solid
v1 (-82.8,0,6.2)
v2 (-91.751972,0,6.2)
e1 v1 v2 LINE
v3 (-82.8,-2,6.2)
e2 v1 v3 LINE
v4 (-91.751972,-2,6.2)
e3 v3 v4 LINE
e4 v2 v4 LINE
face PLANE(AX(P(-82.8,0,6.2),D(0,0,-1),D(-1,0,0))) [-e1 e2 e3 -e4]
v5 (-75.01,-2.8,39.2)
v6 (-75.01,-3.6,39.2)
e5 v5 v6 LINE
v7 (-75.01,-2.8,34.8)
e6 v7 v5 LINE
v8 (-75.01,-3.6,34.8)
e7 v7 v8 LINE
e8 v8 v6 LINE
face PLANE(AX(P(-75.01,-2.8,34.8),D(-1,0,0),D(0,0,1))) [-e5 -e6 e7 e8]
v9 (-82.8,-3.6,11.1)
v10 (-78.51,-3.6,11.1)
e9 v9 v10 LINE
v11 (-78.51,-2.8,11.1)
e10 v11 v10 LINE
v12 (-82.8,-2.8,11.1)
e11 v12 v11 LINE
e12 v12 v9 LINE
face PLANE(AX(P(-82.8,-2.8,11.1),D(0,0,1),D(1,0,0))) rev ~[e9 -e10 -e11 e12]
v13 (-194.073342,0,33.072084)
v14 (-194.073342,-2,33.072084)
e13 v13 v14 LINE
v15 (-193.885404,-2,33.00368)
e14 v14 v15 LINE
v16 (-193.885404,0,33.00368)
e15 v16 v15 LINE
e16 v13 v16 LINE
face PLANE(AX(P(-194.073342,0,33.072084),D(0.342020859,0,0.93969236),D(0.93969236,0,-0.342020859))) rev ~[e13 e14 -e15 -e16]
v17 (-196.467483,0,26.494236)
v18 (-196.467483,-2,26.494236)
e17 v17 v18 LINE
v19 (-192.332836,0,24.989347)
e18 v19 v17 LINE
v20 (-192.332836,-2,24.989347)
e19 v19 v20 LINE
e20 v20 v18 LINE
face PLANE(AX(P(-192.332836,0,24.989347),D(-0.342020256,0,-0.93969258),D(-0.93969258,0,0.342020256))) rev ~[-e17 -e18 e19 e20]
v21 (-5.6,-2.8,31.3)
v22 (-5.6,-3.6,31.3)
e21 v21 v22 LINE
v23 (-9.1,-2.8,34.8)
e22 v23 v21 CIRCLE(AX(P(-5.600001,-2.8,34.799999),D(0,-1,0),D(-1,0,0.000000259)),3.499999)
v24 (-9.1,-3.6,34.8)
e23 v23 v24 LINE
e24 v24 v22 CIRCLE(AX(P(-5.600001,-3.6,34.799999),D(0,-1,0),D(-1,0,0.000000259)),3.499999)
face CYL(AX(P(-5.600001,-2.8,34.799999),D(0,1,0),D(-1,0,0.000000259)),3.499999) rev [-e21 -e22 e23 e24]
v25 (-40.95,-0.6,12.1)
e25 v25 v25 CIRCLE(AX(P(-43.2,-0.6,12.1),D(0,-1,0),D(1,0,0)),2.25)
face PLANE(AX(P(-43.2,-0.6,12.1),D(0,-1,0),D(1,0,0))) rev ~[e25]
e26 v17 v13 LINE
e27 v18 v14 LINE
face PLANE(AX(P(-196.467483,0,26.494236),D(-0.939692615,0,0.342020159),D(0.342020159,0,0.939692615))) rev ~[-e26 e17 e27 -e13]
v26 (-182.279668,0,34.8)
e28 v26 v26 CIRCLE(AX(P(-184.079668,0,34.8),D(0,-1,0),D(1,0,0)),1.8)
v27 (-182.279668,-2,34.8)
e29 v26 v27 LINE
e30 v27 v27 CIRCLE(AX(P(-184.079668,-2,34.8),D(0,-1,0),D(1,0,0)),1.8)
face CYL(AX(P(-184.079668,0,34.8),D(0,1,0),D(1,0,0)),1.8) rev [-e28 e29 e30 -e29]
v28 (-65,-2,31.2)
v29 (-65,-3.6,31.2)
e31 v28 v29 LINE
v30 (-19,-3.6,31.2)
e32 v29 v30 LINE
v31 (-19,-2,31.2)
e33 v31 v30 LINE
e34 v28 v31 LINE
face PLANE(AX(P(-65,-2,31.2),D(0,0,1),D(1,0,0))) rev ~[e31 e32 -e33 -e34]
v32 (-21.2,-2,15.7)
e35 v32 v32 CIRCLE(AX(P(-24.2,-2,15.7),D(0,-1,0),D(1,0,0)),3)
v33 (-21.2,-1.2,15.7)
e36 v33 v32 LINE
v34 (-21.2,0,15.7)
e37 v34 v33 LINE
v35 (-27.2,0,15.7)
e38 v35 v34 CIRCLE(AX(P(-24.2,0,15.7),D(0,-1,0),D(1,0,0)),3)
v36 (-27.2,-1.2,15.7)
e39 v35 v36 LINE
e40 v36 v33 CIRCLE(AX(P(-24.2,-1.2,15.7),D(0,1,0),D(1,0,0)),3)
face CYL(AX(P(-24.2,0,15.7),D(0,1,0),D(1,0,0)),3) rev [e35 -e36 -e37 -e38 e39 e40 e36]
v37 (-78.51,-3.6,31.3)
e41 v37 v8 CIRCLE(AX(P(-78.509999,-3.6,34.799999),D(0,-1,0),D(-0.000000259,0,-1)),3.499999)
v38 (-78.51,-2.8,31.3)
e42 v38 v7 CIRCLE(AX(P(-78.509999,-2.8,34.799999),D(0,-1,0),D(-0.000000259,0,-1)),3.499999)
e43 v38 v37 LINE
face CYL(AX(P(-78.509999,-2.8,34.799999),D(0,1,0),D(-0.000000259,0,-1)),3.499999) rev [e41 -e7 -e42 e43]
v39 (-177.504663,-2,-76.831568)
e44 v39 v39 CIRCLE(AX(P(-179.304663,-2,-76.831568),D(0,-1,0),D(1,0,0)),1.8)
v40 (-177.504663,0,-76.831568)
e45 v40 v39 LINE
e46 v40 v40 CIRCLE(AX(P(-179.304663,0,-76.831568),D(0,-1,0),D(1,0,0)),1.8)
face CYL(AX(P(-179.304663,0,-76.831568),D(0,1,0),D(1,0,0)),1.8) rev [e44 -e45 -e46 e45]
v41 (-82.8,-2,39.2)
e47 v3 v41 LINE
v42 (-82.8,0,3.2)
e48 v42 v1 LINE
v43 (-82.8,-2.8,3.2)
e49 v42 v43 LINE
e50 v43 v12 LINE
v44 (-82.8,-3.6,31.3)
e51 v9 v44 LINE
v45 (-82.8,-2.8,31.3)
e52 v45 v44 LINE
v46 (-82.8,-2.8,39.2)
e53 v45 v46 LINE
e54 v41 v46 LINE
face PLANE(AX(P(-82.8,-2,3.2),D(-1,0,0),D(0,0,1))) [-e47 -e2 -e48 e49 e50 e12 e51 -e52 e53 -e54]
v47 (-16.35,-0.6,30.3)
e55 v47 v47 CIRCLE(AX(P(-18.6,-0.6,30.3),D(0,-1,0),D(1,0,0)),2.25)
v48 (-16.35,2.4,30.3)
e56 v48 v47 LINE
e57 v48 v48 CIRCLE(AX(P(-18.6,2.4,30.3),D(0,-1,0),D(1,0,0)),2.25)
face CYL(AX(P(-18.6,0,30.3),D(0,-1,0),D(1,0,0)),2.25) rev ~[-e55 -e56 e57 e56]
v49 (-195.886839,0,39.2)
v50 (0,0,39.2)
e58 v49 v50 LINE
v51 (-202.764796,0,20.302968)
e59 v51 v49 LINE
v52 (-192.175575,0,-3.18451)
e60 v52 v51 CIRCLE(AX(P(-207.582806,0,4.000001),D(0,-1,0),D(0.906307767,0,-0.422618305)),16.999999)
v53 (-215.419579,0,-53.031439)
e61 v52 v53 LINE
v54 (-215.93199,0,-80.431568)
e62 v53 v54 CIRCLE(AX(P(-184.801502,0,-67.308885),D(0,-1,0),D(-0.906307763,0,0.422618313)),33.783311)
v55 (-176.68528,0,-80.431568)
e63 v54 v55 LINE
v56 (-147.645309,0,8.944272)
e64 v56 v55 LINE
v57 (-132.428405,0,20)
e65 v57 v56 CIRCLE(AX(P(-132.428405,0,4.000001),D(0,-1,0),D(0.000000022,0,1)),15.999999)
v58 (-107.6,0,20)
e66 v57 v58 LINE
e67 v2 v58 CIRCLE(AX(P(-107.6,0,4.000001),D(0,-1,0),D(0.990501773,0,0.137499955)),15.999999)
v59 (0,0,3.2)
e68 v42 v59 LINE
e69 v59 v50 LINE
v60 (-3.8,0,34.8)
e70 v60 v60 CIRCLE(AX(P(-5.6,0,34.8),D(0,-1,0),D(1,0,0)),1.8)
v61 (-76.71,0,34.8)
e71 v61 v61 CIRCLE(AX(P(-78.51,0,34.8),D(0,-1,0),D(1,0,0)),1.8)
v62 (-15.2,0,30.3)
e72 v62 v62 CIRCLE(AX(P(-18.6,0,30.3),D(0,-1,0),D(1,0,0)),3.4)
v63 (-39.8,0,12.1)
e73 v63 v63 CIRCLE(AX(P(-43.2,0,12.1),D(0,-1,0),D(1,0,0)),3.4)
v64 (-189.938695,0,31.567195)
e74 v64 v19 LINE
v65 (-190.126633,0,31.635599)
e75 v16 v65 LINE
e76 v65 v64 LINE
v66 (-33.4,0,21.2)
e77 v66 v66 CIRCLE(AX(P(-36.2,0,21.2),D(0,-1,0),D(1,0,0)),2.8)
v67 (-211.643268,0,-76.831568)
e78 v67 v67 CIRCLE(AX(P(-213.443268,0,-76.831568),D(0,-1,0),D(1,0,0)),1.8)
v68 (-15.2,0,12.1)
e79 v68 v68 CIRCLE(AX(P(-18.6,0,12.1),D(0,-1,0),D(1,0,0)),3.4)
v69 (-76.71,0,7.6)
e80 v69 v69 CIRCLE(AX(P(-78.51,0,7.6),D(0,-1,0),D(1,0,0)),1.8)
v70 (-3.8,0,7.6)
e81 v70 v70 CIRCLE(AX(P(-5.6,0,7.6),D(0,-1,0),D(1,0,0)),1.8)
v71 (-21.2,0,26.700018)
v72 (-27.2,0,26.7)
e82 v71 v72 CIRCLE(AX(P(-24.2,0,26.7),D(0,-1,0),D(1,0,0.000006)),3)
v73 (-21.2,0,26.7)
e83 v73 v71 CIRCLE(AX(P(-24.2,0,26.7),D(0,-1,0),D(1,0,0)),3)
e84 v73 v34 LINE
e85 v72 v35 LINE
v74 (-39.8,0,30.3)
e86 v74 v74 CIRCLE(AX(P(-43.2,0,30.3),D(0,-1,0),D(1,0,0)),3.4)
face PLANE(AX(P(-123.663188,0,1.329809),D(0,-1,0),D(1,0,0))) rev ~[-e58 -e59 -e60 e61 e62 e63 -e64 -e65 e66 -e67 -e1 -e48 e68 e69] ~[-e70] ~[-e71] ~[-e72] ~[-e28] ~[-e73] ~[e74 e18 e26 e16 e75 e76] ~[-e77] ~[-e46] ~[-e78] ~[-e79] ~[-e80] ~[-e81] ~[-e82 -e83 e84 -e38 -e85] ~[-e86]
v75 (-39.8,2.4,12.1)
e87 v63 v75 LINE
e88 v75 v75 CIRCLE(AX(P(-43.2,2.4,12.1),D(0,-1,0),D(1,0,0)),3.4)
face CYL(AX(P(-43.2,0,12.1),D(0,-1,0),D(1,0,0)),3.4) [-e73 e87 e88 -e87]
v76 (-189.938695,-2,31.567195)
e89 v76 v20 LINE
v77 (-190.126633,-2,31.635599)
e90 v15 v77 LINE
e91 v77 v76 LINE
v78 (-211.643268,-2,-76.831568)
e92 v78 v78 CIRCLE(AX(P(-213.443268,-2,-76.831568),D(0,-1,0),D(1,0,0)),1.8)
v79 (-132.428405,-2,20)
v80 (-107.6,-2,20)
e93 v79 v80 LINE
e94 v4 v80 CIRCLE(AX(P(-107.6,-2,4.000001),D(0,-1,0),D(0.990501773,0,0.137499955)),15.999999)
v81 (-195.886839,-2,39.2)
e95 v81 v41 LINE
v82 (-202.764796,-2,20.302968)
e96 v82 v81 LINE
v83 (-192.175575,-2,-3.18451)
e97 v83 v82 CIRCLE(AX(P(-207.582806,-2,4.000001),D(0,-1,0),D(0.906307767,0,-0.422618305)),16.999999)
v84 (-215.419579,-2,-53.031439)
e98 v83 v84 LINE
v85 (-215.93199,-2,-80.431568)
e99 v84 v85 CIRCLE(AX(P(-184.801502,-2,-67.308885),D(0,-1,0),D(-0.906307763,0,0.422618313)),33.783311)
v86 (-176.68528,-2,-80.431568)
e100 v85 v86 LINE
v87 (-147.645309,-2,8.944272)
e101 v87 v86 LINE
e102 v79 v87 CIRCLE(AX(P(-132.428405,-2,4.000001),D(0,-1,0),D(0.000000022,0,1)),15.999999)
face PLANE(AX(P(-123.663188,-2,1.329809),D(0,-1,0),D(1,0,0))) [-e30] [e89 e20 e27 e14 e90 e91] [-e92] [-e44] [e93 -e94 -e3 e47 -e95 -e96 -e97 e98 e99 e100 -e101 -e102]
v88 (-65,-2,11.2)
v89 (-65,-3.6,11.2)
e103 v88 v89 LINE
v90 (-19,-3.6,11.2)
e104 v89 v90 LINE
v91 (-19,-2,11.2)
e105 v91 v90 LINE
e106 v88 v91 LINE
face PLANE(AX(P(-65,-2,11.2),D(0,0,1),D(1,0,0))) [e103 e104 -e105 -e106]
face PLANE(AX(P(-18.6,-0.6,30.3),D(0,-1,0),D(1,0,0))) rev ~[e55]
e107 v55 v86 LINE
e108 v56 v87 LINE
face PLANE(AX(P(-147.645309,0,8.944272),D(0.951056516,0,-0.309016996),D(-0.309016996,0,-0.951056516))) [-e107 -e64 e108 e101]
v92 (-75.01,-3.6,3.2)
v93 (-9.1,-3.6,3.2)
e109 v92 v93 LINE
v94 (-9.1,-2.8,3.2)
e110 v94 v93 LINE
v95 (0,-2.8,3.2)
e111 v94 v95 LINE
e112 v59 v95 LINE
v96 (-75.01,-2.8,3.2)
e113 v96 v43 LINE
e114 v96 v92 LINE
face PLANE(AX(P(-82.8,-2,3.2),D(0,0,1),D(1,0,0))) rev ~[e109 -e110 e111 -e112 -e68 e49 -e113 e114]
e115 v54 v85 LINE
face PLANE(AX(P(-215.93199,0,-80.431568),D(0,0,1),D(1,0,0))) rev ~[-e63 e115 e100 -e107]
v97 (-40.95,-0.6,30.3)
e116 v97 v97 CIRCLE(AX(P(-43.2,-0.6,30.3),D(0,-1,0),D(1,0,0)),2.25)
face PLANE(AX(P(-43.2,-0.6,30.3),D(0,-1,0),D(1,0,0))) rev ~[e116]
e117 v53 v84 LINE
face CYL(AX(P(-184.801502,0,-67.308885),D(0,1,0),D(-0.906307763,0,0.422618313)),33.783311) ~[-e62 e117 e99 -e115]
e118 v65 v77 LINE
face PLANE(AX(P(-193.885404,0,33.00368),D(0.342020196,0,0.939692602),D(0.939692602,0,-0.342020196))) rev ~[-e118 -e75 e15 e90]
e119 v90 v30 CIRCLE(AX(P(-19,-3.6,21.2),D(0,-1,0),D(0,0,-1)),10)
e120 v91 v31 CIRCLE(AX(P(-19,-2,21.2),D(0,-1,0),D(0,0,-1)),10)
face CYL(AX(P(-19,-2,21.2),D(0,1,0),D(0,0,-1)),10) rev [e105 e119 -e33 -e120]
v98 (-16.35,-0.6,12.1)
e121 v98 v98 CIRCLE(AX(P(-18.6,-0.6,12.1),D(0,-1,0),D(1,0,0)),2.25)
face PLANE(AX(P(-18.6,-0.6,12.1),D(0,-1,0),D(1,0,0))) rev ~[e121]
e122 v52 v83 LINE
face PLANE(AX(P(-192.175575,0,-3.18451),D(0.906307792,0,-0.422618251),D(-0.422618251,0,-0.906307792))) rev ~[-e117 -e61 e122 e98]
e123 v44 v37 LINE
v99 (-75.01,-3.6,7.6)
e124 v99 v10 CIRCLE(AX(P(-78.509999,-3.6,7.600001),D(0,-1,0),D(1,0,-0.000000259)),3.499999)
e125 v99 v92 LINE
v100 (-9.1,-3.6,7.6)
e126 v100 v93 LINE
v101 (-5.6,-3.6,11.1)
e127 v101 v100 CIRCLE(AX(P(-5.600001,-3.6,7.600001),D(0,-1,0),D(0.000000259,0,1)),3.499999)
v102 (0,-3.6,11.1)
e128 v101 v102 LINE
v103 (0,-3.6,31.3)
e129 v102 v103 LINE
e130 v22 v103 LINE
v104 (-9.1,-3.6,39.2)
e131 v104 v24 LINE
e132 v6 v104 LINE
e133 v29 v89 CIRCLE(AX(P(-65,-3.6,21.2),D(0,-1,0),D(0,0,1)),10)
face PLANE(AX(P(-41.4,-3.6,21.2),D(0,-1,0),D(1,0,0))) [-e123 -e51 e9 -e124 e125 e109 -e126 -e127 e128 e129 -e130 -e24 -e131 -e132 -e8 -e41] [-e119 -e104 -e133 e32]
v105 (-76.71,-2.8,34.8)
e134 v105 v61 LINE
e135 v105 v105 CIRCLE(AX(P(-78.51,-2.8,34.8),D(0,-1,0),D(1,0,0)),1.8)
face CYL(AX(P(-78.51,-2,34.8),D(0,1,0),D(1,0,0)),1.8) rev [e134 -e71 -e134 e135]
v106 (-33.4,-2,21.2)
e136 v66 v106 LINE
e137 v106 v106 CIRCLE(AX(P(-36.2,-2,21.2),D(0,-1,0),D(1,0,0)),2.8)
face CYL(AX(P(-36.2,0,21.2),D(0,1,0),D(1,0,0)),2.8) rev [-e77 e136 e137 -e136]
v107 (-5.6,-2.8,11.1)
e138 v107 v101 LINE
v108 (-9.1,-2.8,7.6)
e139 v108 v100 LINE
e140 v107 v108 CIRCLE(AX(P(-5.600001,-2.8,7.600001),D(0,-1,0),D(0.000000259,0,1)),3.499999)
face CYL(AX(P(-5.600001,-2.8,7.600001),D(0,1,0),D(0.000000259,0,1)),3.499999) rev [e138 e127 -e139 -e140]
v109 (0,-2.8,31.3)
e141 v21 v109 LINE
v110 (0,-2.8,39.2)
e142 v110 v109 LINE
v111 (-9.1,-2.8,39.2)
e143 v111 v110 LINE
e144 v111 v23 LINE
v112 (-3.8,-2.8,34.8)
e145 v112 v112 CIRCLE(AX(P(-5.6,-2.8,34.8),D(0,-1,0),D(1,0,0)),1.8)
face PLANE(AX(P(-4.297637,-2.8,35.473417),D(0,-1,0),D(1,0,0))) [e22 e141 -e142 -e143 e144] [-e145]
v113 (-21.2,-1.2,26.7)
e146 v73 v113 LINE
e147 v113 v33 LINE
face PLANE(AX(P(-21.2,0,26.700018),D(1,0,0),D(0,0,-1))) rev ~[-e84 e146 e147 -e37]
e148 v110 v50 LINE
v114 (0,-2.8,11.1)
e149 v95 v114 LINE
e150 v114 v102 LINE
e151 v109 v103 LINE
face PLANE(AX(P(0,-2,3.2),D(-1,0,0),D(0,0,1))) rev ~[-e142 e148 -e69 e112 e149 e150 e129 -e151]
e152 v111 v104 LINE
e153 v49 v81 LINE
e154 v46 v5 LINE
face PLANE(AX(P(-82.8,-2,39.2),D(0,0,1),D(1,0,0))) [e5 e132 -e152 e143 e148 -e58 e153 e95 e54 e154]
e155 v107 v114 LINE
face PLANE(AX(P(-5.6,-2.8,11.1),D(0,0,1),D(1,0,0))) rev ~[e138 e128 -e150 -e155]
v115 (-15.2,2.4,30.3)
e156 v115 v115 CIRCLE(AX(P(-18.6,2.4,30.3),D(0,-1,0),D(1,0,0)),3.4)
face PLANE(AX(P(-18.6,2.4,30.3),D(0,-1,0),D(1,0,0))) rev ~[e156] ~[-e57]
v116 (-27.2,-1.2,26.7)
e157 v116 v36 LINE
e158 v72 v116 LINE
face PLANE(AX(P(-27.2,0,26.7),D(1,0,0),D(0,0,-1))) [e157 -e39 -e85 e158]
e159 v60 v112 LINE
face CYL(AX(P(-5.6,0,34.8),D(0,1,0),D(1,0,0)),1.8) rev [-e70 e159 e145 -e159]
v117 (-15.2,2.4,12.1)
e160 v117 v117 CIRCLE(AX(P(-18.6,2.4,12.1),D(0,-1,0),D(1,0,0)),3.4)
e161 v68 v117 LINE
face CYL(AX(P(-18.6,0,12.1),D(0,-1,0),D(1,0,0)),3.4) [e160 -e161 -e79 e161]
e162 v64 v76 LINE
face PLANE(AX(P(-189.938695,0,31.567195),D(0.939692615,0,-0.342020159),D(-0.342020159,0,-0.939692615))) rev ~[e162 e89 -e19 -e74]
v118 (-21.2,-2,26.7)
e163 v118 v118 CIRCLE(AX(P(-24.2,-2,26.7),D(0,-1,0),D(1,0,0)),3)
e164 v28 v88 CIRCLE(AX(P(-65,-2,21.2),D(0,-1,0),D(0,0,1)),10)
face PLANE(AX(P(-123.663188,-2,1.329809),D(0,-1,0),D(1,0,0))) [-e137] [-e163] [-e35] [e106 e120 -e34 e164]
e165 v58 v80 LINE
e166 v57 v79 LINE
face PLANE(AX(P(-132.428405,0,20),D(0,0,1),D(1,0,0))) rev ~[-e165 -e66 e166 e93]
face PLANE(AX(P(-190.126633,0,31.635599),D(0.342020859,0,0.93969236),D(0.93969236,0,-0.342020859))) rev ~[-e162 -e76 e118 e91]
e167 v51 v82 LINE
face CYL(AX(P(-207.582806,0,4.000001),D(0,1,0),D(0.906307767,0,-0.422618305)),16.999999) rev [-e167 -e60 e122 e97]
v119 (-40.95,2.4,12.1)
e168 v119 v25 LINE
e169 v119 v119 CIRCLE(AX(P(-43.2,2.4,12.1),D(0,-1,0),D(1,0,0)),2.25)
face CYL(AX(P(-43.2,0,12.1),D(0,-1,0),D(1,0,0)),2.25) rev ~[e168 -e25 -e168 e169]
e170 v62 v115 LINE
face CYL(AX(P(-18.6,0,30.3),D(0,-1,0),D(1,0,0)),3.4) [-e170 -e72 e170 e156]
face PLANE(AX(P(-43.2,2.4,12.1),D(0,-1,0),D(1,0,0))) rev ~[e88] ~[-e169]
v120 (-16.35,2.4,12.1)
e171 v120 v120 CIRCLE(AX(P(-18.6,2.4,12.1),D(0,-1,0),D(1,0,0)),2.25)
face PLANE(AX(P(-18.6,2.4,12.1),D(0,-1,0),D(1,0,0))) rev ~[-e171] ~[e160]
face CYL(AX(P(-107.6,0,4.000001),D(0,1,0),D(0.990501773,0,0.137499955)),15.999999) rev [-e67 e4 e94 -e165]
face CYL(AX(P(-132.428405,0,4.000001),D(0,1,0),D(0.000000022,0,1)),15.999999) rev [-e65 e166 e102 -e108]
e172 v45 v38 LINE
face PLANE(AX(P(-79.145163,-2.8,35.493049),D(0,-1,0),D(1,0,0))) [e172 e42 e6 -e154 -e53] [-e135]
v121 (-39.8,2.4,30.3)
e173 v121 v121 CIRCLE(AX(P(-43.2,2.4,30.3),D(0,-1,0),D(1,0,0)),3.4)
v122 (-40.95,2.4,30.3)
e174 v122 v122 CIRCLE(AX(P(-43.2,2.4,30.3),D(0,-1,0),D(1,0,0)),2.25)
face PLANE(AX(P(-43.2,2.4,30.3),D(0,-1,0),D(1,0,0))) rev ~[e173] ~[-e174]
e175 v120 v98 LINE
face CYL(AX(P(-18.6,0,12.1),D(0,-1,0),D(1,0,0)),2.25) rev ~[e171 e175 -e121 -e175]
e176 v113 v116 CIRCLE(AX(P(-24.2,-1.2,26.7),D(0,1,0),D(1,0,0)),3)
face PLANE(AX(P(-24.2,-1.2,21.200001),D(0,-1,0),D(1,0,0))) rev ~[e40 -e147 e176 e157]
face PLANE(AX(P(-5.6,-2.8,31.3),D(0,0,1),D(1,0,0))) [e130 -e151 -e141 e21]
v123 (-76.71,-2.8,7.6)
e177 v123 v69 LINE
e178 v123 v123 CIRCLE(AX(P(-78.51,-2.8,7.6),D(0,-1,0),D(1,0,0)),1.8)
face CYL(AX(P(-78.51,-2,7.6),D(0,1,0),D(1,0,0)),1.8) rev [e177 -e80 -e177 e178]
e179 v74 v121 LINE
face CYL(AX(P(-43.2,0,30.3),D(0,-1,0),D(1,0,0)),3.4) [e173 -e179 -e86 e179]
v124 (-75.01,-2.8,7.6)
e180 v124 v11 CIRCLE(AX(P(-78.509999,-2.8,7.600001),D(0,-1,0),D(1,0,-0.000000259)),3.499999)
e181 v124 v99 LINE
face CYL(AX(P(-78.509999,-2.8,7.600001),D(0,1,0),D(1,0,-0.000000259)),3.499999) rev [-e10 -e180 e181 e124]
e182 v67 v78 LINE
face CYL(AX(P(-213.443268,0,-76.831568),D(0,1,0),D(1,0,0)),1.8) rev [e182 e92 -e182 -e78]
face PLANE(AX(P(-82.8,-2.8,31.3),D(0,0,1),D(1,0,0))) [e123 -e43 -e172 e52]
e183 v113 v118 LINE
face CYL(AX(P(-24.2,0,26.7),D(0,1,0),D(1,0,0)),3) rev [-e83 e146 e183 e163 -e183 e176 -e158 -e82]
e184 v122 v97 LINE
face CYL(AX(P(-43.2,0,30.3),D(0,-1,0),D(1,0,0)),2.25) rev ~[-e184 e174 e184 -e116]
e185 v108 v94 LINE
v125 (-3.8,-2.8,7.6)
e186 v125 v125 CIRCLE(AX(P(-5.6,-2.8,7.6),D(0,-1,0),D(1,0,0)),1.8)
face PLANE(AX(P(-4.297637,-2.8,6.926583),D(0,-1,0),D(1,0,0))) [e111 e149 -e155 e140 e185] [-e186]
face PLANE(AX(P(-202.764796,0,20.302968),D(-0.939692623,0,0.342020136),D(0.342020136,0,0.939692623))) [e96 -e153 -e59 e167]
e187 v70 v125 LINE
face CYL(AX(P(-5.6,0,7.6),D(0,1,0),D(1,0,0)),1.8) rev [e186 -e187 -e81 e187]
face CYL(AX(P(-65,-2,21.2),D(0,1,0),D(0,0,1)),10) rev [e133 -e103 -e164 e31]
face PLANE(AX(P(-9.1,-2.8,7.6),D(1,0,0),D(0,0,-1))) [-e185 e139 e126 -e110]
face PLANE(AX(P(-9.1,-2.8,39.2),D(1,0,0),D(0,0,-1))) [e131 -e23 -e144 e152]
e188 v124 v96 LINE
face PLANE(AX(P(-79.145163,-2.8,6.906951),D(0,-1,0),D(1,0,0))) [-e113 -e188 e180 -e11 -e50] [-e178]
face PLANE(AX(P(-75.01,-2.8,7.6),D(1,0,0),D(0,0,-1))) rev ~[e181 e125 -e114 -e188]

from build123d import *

# Parameters (mm, degrees)
SKETCH085_R           = 1.8
EXTRUDE085_DEPTH      = 0.8
SKETCH083_W           = 82.8
SKETCH083_H           = 36
SKETCH083_R           = 1.8
EXTRUDE083_DEPTH      = 1.6
SKETCH080_R           = 2.25
EXTRUDE081_DEPTH      = 0.6
EXTRUDE081_DEPTH_BACK = 2.4
SKETCH081_R           = 3.4
EXTRUDE080_DEPTH      = 2.4
EXTRUDE079_DEPTH      = 1.2
SKETCH075_R           = 1.8
SKETCH075_R_2         = 2.8
SKETCH075_R_3         = 3
EXTRUDE078_DEPTH      = 2


with BuildPart() as extrude085:
    # Sketch085 → Extrude085 (new body)
    with BuildSketch(Plane.XZ):
        with BuildLine():
            ThreePointArc((-78.51, 31.3), (-76.035126, 32.325126), (-75.01, 34.8))
            Line((-75.01, 34.8), (-75.01, 39.2))
            Line((-82.8, 39.2), (-75.01, 39.2))
            Line((-82.8, 31.3), (-82.8, 39.2))
            Line((-82.8, 31.3), (-78.51, 31.3))
        make_face()
        with Locations((-78.51, 34.8)):
            Circle(SKETCH085_R, mode=Mode.SUBTRACT)
        with BuildLine():
            ThreePointArc((-9.1, 34.8), (-8.074874, 32.325126), (-5.6, 31.3))
            Line((-5.6, 31.3), (0, 31.3))
            Line((0, 39.2), (0, 31.3))
            Line((-9.1, 39.2), (0, 39.2))
            Line((-9.1, 39.2), (-9.1, 34.8))
        make_face()
        with Locations((-5.6, 34.8)):
            Circle(SKETCH085_R, mode=Mode.SUBTRACT)
        with BuildLine():
            ThreePointArc((-75.01, 7.6), (-76.035126, 10.074874), (-78.51, 11.1))
            Line((-82.8, 11.1), (-78.51, 11.1))
            Line((-82.8, 3.2), (-82.8, 11.1))
            Line((-75.01, 3.2), (-82.8, 3.2))
            Line((-75.01, 7.6), (-75.01, 3.2))
        make_face()
        with Locations((-78.51, 7.6)):
            Circle(SKETCH085_R, mode=Mode.SUBTRACT)
        with BuildLine():
            ThreePointArc((-5.6, 11.1), (-8.074874, 10.074874), (-9.1, 7.6))
            Line((-9.1, 7.6), (-9.1, 3.2))
            Line((-9.1, 3.2), (0, 3.2))
            Line((0, 3.2), (0, 11.1))
            Line((-5.6, 11.1), (0, 11.1))
        make_face()
        with Locations((-5.6, 7.6)):
            Circle(SKETCH085_R, mode=Mode.SUBTRACT)
    extrude(amount=EXTRUDE085_DEPTH)


with BuildPart() as extrude085_1:
    # Extrude085 placement: moved
    add(extrude085.part.moved(Location((0, -2.8, 0))))


with BuildPart() as cut048:
    # Sketch083 → Extrude083 (new body)
    with BuildSketch(Plane.XZ):
        with Locations((-41.4, 21.2)):
            Rectangle(SKETCH083_W, SKETCH083_H)
        with Locations((-78.51, 34.8)):
            Circle(SKETCH083_R, mode=Mode.SUBTRACT)
        with Locations((-5.6, 34.8)):
            Circle(SKETCH083_R, mode=Mode.SUBTRACT)
        with Locations((-5.6, 7.6)):
            Circle(SKETCH083_R, mode=Mode.SUBTRACT)
        with Locations((-78.51, 7.6)):
            Circle(SKETCH083_R, mode=Mode.SUBTRACT)
        with BuildLine():
            ThreePointArc((-65, 31.2), (-75, 21.2), (-65, 11.2))
            Line((-65, 11.2), (-19, 11.2))
            ThreePointArc((-19, 11.2), (-9, 21.2), (-19, 31.2))
            Line((-65, 31.2), (-19, 31.2))
        make_face(mode=Mode.SUBTRACT)
    extrude(amount=EXTRUDE083_DEPTH)


with BuildPart() as cut048_1:
    # Extrude083 placement: moved
    add(cut048.part.moved(Location((0, -2, 0))))

    # Cut048: cut Extrude085
    add(extrude085_1.part, mode=Mode.SUBTRACT)


with BuildPart() as extrude081:
    # Sketch080 → Extrude081 (new body, two sides)
    with BuildSketch(Plane.XZ) as extrude081_sk:
        with Locations((-18.6, 12.1)):
            Circle(SKETCH080_R)
        with Locations((-18.6, 30.3)):
            Circle(SKETCH080_R)
        with Locations((-43.2, 30.3)):
            Circle(SKETCH080_R)
        with Locations((-43.2, 12.1)):
            Circle(SKETCH080_R)
    extrude(amount=EXTRUDE081_DEPTH)
    extrude(extrude081_sk.sketch, amount=-EXTRUDE081_DEPTH_BACK)


with BuildPart() as extrude080:
    # Sketch081 → Extrude080 (new body)
    with BuildSketch(Plane.XZ):
        with Locations((-43.2, 30.3)):
            Circle(SKETCH081_R)
        with Locations((-18.6, 30.3)):
            Circle(SKETCH081_R)
        with Locations((-43.2, 12.1)):
            Circle(SKETCH081_R)
        with Locations((-18.6, 12.1)):
            Circle(SKETCH081_R)
    extrude(amount=-EXTRUDE080_DEPTH)


with BuildPart() as extrude_lato_dx_pistola_scavi_pulsanti:
    # Sketch077 → Extrude079 (new body)
    with BuildSketch(Plane.XZ):
        with BuildLine():
            Line((-27.2, 26.7), (-27.2, 15.7))
            ThreePointArc((-27.2, 15.7), (-24.2, 12.7), (-21.2, 15.7))
            Line((-21.2, 26.700018), (-21.2, 15.7))
            ThreePointArc((-21.2, 26.700018), (-24.200009, 29.7), (-27.2, 26.7))
        make_face()
    extrude(amount=EXTRUDE079_DEPTH)


with BuildPart() as fusion006:
    # Sketch075 → Extrude078 (new body)
    with BuildSketch(Plane.XZ):
        with BuildLine():
            Line((-82.8, 3.2), (0, 3.2))
            Line((0, 3.2), (0, 39.2))
            Line((-195.886839, 39.2), (0, 39.2))
            Line((-202.764796, 20.302968), (-195.886839, 39.2))
            ThreePointArc((-192.175575, -3.18451), (-192.085048, 10.987093), (-202.764796, 20.302968))
            Line((-192.175575, -3.18451), (-215.419579, -53.031439))
            ThreePointArc((-215.419579, -53.031439), (-218.578907, -66.677212), (-215.93199, -80.431568))
            Line((-215.93199, -80.431568), (-176.68528, -80.431568))
            Line((-147.645309, 8.944272), (-176.68528, -80.431568))
            ThreePointArc((-132.428405, 20), (-141.832969, 16.944272), (-147.645309, 8.944272))
            Line((-132.428405, 20), (-107.6, 20))
            ThreePointArc((-91.751972, 6.2), (-97.09286, 16.066483), (-107.6, 20))
            Line((-82.8, 6.2), (-91.751972, 6.2))
            Line((-82.8, 3.2), (-82.8, 6.2))
        make_face()
        with Locations((-213.443268, -76.831568)):
            Circle(SKETCH075_R, mode=Mode.SUBTRACT)
        with Locations((-179.304663, -76.831568)):
            Circle(SKETCH075_R, mode=Mode.SUBTRACT)
        with Locations((-184.079668, 34.8)):
            Circle(SKETCH075_R, mode=Mode.SUBTRACT)
        with Locations((-78.51, 34.8)):
            Circle(SKETCH075_R, mode=Mode.SUBTRACT)
        with Locations((-78.51, 7.6)):
            Circle(SKETCH075_R, mode=Mode.SUBTRACT)
        with Locations((-5.6, 34.8)):
            Circle(SKETCH075_R, mode=Mode.SUBTRACT)
        with Locations((-5.6, 7.6)):
            Circle(SKETCH075_R, mode=Mode.SUBTRACT)
        with Locations((-36.2, 21.2)):
            Circle(SKETCH075_R_2, mode=Mode.SUBTRACT)
        with Locations((-24.2, 26.7)):
            Circle(SKETCH075_R_3, mode=Mode.SUBTRACT)
        with Locations((-24.2, 15.7)):
            Circle(SKETCH075_R_3, mode=Mode.SUBTRACT)
        Polygon((-189.938695, 31.567195), (-192.332836, 24.989347), (-196.467483, 26.494236), (-194.073342, 33.072084), (-193.885404, 33.00368), (-190.126633, 31.635599), align=None, mode=Mode.SUBTRACT)
    extrude(amount=EXTRUDE078_DEPTH)

    # Cut045: cut Extrude lato dx pistola - scavi pulsanti
    add(extrude_lato_dx_pistola_scavi_pulsanti.part, mode=Mode.SUBTRACT)

    # Fusion004: union Extrude080
    add(extrude080.part)

    # Cut046: cut Extrude081
    add(extrude081.part, mode=Mode.SUBTRACT)

    # Fusion006: union Cut048
    add(cut048_1.part)


solid = fusion006.part
